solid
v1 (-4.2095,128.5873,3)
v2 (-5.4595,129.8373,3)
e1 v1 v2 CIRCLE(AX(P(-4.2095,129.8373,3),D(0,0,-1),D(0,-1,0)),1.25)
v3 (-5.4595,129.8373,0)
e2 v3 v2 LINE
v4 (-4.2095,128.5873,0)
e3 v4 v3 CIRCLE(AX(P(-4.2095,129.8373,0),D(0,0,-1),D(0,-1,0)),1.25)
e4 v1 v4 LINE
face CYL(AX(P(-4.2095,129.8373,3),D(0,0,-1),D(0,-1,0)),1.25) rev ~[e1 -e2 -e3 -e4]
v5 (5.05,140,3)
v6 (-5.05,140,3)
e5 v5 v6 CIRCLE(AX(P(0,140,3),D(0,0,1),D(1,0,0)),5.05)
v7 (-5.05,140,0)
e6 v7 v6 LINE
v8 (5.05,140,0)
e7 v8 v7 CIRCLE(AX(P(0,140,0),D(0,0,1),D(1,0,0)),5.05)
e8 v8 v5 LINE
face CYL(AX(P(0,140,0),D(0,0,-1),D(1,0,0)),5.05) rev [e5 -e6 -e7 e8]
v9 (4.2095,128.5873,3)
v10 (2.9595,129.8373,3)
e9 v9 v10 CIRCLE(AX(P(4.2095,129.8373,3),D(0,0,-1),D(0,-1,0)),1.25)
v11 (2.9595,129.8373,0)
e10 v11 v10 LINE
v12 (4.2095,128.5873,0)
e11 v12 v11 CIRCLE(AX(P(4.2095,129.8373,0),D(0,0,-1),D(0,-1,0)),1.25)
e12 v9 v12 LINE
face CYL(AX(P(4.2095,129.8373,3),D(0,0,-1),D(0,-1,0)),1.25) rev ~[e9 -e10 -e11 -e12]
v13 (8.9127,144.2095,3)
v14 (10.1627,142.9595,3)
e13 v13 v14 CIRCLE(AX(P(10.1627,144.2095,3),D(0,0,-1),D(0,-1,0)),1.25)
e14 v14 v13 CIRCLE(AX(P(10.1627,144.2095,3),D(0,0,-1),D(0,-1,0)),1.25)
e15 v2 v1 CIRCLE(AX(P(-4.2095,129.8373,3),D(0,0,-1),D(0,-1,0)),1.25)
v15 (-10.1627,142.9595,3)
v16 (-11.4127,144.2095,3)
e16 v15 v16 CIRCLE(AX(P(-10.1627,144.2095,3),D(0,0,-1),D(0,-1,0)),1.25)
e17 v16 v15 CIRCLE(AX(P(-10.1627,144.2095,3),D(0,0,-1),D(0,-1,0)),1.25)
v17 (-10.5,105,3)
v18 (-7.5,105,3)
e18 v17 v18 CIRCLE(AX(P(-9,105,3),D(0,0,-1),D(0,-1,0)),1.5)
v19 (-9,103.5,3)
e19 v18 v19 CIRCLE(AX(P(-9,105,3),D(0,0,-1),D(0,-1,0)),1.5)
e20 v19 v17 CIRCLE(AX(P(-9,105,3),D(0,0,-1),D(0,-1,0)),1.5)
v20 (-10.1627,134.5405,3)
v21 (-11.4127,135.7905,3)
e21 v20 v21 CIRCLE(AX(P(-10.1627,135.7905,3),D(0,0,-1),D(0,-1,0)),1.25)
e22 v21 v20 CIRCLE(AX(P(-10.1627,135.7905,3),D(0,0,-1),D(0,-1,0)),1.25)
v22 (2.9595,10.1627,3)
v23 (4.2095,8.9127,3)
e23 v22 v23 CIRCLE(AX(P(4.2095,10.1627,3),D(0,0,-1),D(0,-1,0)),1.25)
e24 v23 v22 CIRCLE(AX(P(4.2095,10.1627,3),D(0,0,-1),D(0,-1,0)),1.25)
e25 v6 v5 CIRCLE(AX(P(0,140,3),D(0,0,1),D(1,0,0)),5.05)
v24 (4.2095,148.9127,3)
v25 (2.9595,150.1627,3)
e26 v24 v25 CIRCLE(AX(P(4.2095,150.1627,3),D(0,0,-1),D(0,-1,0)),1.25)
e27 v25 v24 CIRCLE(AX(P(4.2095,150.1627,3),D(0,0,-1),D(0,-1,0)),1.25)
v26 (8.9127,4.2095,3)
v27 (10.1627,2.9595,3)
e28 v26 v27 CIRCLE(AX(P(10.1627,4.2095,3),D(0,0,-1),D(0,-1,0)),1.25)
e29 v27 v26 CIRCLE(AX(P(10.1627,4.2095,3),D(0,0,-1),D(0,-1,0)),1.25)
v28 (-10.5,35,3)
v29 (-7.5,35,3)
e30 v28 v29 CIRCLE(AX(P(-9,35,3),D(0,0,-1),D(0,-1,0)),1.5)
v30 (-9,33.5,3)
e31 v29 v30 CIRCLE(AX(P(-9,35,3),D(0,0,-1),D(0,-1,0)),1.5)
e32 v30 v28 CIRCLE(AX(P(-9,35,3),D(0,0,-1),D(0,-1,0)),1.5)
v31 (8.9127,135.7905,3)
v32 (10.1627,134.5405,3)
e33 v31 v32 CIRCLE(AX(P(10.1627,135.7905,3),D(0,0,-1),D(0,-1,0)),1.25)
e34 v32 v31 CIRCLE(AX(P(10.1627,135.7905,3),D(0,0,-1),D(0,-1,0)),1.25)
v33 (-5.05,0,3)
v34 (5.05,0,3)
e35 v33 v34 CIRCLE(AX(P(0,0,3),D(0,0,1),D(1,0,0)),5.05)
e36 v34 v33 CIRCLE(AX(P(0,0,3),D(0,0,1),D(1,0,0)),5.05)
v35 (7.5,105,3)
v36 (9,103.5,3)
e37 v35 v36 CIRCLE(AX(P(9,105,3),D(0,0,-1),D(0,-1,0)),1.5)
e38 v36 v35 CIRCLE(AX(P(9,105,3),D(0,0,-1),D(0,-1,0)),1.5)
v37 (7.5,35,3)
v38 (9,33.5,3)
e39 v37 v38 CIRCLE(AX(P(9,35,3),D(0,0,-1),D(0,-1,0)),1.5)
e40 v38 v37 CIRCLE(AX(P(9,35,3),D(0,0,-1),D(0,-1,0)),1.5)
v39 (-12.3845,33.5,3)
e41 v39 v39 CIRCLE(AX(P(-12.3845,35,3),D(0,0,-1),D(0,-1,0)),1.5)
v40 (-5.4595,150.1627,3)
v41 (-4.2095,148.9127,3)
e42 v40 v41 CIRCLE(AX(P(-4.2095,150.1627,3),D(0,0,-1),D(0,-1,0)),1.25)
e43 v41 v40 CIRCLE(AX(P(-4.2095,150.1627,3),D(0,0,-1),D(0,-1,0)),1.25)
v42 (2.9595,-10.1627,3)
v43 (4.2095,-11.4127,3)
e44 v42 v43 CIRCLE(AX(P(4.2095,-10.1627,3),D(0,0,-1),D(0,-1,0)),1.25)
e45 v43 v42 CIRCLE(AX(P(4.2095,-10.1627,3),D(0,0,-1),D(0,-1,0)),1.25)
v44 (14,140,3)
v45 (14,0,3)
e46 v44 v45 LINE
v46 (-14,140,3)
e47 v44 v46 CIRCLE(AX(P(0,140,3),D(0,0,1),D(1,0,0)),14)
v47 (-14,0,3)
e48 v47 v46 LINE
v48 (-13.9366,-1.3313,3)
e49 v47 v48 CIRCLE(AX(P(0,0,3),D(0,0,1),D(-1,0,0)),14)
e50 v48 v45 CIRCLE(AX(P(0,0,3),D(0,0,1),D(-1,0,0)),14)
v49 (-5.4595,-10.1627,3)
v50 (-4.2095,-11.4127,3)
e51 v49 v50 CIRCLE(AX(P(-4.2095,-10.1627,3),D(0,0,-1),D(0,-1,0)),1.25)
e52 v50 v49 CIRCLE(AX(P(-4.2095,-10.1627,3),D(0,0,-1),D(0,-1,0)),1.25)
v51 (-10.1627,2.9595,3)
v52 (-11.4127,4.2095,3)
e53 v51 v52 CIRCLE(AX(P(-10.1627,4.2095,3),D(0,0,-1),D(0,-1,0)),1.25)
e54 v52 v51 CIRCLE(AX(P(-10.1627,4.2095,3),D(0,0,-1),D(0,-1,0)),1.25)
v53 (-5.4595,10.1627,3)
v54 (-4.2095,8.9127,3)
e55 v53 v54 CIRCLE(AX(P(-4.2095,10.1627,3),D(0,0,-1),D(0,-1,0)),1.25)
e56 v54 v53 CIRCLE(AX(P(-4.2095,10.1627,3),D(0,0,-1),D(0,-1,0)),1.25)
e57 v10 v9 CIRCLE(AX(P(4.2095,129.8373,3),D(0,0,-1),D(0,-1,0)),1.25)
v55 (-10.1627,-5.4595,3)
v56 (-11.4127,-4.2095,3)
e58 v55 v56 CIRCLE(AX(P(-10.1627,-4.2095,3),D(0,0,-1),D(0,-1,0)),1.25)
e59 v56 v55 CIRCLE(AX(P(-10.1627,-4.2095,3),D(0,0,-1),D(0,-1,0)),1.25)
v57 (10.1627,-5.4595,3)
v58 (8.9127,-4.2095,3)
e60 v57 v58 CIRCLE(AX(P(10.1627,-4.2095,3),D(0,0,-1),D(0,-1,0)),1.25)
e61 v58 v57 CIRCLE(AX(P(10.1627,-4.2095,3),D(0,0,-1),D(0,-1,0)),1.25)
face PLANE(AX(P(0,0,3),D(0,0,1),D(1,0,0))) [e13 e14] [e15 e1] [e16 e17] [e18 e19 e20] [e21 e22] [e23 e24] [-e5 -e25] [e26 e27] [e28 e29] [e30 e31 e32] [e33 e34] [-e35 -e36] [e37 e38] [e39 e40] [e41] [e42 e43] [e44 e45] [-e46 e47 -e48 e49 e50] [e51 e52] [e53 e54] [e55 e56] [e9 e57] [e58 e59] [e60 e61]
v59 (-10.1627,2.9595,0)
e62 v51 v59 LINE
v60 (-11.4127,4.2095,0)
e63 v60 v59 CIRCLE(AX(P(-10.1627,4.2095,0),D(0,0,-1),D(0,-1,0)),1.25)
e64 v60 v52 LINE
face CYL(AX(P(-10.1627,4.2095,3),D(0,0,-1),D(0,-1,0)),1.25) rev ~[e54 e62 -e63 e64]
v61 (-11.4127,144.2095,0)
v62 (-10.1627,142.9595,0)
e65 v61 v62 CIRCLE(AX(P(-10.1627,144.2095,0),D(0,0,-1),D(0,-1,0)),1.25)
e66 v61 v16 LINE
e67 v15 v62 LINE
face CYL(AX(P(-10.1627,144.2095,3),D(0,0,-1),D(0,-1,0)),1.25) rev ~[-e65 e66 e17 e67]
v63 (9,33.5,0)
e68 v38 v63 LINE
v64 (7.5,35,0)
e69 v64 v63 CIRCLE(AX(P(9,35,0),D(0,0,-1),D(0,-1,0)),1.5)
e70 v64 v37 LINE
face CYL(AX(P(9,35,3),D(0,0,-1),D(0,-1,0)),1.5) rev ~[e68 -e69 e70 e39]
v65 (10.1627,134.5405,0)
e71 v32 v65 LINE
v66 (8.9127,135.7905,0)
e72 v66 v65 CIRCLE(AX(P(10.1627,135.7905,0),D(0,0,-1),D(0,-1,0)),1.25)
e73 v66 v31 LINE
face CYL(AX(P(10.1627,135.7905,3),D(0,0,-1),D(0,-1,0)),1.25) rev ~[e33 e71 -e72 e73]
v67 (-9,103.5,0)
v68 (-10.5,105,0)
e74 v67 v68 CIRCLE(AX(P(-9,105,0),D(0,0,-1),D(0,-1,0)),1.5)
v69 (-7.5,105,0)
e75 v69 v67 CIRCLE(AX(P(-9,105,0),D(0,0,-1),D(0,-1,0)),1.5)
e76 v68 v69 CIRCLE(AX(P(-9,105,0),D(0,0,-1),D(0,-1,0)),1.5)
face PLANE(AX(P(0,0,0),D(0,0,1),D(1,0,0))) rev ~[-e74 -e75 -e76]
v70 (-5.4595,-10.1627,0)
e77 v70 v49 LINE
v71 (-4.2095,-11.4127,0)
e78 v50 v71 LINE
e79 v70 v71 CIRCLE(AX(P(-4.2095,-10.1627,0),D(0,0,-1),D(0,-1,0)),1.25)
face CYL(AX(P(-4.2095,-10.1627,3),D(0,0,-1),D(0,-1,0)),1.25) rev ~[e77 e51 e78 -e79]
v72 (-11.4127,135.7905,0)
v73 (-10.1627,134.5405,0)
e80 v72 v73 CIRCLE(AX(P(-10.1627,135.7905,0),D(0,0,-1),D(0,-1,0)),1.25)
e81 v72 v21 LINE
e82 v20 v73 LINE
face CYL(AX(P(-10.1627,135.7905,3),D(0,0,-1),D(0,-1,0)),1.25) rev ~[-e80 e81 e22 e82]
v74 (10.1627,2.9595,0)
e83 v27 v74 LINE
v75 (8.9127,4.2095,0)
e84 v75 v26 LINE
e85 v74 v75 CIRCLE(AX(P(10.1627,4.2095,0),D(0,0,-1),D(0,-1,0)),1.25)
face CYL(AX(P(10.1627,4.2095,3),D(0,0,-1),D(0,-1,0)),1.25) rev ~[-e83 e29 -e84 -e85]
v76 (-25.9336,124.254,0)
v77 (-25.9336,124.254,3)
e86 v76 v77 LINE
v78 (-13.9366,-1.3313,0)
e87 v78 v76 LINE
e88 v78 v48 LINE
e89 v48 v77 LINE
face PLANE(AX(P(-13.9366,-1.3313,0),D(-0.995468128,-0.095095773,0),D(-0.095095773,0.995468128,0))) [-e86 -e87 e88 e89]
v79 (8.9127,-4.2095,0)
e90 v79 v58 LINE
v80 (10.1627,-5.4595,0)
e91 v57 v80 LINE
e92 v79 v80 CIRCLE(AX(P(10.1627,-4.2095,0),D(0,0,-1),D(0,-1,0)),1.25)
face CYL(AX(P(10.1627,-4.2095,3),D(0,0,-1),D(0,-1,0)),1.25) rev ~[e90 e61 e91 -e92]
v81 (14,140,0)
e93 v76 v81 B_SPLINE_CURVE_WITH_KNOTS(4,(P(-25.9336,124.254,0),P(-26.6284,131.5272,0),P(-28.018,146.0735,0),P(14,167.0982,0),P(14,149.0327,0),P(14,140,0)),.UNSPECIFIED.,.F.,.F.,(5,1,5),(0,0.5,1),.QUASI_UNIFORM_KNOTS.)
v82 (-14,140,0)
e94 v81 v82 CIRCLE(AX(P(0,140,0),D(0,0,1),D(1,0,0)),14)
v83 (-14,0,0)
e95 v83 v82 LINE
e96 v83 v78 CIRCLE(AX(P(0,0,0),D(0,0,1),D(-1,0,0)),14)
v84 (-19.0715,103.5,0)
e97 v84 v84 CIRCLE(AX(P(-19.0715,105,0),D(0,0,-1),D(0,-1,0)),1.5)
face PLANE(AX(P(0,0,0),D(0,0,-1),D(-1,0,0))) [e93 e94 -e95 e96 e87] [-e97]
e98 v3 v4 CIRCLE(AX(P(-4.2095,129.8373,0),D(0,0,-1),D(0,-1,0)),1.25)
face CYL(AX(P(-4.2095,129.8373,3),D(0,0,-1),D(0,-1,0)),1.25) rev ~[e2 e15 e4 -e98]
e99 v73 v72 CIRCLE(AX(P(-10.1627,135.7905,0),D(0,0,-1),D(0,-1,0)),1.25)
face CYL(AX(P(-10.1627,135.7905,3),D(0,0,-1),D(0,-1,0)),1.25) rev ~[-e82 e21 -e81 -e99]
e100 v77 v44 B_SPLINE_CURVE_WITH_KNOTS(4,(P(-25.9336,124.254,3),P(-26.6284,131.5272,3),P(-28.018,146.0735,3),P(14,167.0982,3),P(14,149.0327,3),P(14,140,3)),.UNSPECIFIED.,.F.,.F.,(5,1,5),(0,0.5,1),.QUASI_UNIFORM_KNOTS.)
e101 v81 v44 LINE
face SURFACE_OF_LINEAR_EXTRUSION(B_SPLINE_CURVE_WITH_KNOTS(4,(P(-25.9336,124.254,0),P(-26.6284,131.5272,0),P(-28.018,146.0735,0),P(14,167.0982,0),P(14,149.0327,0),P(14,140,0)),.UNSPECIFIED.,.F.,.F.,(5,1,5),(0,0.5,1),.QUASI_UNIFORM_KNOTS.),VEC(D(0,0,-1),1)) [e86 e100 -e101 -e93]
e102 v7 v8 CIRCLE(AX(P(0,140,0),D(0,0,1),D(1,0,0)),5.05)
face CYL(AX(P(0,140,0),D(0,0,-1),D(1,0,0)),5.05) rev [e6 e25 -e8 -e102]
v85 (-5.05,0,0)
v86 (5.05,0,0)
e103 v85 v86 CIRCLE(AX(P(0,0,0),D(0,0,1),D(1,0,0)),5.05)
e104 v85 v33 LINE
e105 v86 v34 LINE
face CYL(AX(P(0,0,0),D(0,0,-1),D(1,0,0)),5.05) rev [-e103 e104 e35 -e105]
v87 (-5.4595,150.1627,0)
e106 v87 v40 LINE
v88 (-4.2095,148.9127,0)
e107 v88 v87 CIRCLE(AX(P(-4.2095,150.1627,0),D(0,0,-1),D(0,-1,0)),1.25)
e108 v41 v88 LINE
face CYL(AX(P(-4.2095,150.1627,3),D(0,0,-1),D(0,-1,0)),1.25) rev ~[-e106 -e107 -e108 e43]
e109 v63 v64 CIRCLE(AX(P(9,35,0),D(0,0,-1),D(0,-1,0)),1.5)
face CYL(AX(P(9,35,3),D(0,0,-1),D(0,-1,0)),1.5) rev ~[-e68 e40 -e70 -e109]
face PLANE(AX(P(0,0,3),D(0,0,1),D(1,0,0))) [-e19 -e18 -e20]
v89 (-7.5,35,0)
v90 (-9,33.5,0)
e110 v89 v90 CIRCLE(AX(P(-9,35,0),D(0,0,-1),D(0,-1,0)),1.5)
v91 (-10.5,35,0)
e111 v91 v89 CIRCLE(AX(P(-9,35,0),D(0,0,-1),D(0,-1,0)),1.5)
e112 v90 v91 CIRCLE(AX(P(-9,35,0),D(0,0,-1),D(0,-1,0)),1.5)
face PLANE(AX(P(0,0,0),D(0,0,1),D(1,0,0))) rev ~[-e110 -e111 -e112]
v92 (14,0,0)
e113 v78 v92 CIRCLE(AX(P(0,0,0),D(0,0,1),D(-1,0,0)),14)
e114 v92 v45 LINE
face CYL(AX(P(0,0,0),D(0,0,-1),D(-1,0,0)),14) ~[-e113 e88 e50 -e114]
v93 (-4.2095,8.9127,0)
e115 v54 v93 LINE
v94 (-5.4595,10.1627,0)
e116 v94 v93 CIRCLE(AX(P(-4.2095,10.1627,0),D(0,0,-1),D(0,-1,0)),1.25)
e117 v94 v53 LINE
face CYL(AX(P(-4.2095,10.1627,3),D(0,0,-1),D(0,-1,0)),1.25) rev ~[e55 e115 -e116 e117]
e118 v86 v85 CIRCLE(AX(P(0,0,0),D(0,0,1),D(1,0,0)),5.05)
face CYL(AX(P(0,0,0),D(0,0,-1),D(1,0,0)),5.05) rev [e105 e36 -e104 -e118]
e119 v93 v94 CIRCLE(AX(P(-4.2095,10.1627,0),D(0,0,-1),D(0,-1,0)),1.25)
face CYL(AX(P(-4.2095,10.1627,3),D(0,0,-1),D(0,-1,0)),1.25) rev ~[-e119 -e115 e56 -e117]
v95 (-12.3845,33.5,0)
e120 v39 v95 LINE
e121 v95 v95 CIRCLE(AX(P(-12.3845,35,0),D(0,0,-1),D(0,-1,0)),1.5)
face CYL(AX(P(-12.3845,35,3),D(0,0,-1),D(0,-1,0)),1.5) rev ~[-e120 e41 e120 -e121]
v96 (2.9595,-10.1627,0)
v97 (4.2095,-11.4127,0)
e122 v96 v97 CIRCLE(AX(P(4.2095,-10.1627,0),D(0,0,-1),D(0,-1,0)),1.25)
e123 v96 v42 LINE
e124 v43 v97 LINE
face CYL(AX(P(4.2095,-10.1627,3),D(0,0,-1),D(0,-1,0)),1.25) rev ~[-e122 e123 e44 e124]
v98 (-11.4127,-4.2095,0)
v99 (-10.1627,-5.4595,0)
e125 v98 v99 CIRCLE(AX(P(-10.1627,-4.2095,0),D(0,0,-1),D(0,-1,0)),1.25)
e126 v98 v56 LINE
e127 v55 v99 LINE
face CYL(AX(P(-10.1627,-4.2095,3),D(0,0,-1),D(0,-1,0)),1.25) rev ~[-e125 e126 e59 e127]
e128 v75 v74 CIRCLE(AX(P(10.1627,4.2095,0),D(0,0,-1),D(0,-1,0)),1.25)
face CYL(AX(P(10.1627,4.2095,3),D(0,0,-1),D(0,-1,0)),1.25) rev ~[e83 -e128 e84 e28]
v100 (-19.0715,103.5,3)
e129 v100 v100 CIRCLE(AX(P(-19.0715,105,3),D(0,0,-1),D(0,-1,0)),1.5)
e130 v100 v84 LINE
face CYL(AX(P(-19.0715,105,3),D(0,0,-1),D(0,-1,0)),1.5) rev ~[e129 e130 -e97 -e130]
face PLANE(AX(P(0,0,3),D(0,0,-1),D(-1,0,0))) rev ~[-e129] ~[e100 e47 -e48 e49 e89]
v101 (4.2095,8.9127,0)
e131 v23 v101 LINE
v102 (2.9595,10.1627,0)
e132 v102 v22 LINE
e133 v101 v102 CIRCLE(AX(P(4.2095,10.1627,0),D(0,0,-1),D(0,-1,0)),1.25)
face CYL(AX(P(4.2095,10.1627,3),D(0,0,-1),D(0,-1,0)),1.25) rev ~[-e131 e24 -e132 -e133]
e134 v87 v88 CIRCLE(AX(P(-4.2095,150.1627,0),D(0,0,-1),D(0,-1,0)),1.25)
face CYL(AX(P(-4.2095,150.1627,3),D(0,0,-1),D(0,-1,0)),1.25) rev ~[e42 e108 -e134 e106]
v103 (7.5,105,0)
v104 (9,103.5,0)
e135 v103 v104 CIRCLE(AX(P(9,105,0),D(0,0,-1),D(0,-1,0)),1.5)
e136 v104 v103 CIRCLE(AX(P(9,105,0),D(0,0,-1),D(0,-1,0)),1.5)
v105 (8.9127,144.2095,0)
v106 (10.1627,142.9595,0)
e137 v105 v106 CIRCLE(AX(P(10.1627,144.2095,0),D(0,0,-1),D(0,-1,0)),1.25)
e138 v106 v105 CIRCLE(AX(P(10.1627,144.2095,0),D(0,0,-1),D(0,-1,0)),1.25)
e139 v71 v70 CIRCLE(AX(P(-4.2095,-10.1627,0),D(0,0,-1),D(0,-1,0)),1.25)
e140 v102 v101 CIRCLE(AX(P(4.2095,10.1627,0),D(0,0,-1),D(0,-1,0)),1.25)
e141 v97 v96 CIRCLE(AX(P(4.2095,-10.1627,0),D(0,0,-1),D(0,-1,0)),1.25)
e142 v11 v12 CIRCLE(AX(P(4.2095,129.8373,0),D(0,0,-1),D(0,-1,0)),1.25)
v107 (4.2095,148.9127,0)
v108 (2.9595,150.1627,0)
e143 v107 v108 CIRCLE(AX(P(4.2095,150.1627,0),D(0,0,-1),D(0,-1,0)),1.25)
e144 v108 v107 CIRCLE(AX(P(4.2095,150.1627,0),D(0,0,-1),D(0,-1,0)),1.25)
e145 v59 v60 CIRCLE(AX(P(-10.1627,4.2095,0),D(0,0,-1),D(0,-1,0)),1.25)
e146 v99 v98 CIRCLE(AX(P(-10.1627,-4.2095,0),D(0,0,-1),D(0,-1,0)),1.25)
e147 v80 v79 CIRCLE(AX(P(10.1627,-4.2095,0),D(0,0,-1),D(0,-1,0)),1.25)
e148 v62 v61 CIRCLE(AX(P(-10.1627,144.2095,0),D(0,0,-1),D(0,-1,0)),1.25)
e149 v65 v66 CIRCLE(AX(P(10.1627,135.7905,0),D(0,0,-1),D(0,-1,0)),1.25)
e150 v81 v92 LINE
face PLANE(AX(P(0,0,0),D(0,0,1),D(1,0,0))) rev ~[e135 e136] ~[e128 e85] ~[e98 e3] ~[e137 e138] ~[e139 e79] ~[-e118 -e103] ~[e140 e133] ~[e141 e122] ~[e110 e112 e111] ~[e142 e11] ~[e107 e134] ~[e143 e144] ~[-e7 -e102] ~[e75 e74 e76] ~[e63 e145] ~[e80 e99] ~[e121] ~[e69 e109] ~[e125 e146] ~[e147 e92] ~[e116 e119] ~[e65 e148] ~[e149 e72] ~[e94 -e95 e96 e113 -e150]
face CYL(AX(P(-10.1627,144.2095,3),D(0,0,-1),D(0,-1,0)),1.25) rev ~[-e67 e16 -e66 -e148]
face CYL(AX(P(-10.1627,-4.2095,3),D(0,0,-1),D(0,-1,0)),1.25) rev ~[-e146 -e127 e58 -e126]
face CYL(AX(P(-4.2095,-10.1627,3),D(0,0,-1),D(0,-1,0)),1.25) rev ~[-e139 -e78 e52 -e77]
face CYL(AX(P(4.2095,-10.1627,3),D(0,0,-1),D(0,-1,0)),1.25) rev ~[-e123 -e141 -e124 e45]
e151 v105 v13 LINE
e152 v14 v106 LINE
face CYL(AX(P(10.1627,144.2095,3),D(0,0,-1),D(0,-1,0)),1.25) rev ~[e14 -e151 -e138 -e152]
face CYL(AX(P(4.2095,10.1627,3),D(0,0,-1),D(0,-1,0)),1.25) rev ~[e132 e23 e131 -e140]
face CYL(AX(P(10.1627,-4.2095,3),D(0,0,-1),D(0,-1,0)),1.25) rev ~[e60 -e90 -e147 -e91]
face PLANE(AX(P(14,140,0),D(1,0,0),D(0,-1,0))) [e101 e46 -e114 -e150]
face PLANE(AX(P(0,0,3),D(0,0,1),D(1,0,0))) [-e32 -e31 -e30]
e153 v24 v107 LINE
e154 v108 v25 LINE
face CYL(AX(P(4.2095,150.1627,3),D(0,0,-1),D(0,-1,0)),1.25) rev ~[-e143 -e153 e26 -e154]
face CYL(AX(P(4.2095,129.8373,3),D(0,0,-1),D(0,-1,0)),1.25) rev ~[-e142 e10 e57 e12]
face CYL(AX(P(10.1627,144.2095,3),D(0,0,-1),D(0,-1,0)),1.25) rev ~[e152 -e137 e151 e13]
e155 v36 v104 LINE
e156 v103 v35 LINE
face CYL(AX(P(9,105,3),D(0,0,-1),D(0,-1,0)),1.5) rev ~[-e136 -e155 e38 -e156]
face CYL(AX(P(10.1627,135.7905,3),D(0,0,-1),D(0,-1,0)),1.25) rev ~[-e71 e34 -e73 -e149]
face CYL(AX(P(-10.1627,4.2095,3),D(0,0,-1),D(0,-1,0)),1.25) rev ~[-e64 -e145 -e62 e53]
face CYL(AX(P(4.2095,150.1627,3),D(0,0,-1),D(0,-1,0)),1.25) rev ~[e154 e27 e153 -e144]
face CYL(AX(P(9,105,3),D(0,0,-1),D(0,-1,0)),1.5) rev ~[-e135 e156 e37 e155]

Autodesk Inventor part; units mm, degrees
ref_plane "YZ Plane" through (0, 0, 0) normal (1, 0, 0) x (0, 1, 0)
ref_plane "XZ Plane" through (0, 0, 0) normal (0, 1, 0) x (-1, 0, 0)
ref_plane "XY Plane" through (0, 0, 0) normal (0, 0, 1) x (1, 0, 0)
sketch "Sketch2" plane through (0, 0, 0) normal (0, 0, 1) x (1, 0, 0)
  circle A0 centre (0, 0) radius 14 construction
  line L0 (0, -78.1672) -> (0, 269.7416) construction
  line L1 (0, -28.466) -> (0, 220.0403) construction
  circle A1 centre (0, 140) radius 14 construction
  line L2 (-14, 0) -> (-14, 140)
  line L3 (14, 140) -> (14, 0)
  arc A2 (14, 140) -> (-14, 140) centre (0, 140) ccw
  arc A3 (-14, 0) -> (14, 0) centre (0, 0) ccw
  circle A4 centre (0, 140) radius 5.05
  circle A5 centre (0, 0) radius 5.05
  dimension "d0" = 28
  dimension "d1" = 28
  dimension "d2" = 140
  dimension "d3" = 10.1
  dimension "d4" = 10.1
extrude "Plate1" add sketch "Sketch2" along normal blind 3
sketch "Sketch3" plane through (0, 0, 3) normal (0, 0, 1) x (1, 0, 0)
  circle A0 centre (0, 0) radius 11 construction
  circle A1 centre (0, 140) radius 11 construction
  circle A2 centre (0, 140) radius 8.5 construction
  circle A3 centre (0, 140) radius 5.05 construction
  line L0 (0, 0) -> (12.8086, 5.3055) construction
  line L1 (0, 0) -> (13.8639, 0) construction
  line L2 (12.8086, 5.3055) -> (12.5617, 5.9016) construction
  line L3 (0, 140) -> (16.0819, 146.6613) construction
  line L4 (0, 140) -> (17.4069, 140) construction
  line L5 (-9, 137.5621) -> (-9, -33.762) construction
  line L6 (9, -33.762) -> (9, 143.7894) construction
  line L7 (-14, 0) -> (-14, 140) construction
  line L8 (14, 140) -> (14, 0) construction
  line L9 (-30.9821, 105) -> (51.5896, 105) construction
  line L10 (-30.9821, 35) -> (48.2288, 35) construction
  point P0 (10.1627, 4.2095)
  point P1 (4.2095, 10.1627)
  point P2 (-4.2095, 10.1627)
  point P3 (-10.1627, 4.2095)
  point P4 (10.1627, 144.2095)
  point P5 (4.2095, 150.1627)
  point P6 (-4.2095, 150.1627)
  point P7 (-10.1627, 144.2095)
  point P8 (-10.1627, 135.7905)
  point P9 (-4.2095, 129.8373)
  point P10 (4.2095, 129.8373)
  point P11 (10.1627, 135.7905)
  point P12 (-10.1627, -4.2095)
  point P13 (-4.2095, -10.1627)
  point P14 (4.2095, -10.1627)
  point P15 (10.1627, -4.2095)
  dimension "d6" = 22
  dimension "d8" = 22
  dimension "d14" = 22.5
  dimension "d17" = 360
  dimension "d23" = 22.5
  dimension "d26" = 360
  dimension "d29" = 5
  dimension "d30" = 5
  dimension "d31" = 35
  dimension "d32" = 35
hole "Hole1" at (10.1627, 4.2095, 3) at (4.2095, 10.1627, 3) at (-4.2095, 10.1627, 3) at (-10.1627, 4.2095, 3) at (10.1627, 144.2095, 3) at (4.2095, 150.1627, 3) at (-4.2095, 150.1627, 3) at (-10.1627, 144.2095, 3) at (10.1627, 135.7905, 3) at (4.2095, 129.8373, 3) at (-4.2095, 129.8373, 3) at (-10.1627, 135.7905, 3) at (10.1627, -4.2095, 3) at (4.2095, -10.1627, 3) at (-4.2095, -10.1627, 3) at (-10.1627, -4.2095, 3) direction (0, 0, -1) diameter 2.5 end through all
sketch "Sketch4" plane through (0, 0, 3) normal (0, 0, 1) x (1, 0, 0)
  line L0 (-9, 137.5621) -> (-9, -33.762) construction
  line L1 (-30.9821, 105) -> (51.5896, 105) construction
  line L2 (-30.9821, 35) -> (48.2288, 35) construction
  line L3 (9, -33.762) -> (9, 143.7894) construction
  point P0 (0, 0)
  point P1 (-9, 105)
  point P2 (9, 105)
  point P3 (-9, 35)
  point P4 (9, 35)
hole "Hole2" at (-9, 105, 3) at (9, 105, 3) at (-9, 35, 3) at (9, 35, 3) direction (0, 0, -1) diameter 3 end through all
sketch "Sketch5" plane through (0, 0, 0) normal (0, 0, -1) x (-1, 0, 0)
  line L0 (13.9366, -1.3313) -> (25.9336, 124.254)
  circle A0 centre (9, 35) radius 1.5 projected
  circle A1 centre (9, 105) radius 1.5 projected
  circle A2 centre (-9, 105) radius 1.5 projected
  circle A3 centre (-9, 35) radius 1.5 projected
  circle A4 centre (4.2095, -10.1627) radius 1.25 projected
  circle A5 centre (-10.1627, -4.2095) radius 1.25 projected
  circle A6 centre (4.2095, 129.8373) radius 1.25 projected
  circle A7 centre (-10.1627, 135.7905) radius 1.25 projected
  circle A8 centre (4.2095, 150.1627) radius 1.25 projected
  circle A9 centre (-10.1627, 144.2095) radius 1.25 projected
  circle A10 centre (4.2095, 10.1627) radius 1.25 projected
  circle A11 centre (-10.1627, 4.2095) radius 1.25 projected
  circle A12 centre (-4.2095, 10.1627) radius 1.25 projected
  circle A13 centre (10.1627, 4.2095) radius 1.25 projected
  circle A14 centre (-4.2095, 150.1627) radius 1.25 projected
  circle A15 centre (10.1627, 144.2095) radius 1.25 projected
  circle A16 centre (-4.2095, 129.8373) radius 1.25 projected
  circle A17 centre (10.1627, 135.7905) radius 1.25 projected
  circle A18 centre (-4.2095, -10.1627) radius 1.25 projected
  circle A19 centre (10.1627, -4.2095) radius 1.25 projected
  circle A20 centre (0, 0) radius 5.05 projected
  circle A21 centre (0, 140) radius 5.05 projected
  line L1 (14, 0) -> (14, 140) projected
  arc A22 (14, 140) -> (-14, 140) centre (0, 140) ccw projected
  line L2 (-14, 140) -> (-14, 0) projected
  arc A23 (-14, 0) -> (14, 0) centre (0, 0) ccw projected
  spline S0 degree 4 poles (25.9336, 124.254) (26.6284, 131.5272) (28.018, 146.0735) (-14, 167.0982) (-14, 149.0327) (-14, 140) knots 0 0 0 0 0 0.5 1 1 1 1 1
extrude "Extrusion1" add sketch "Sketch5" against normal blind 3
sketch "Sketch6" plane through (0, 0, 3) normal (0, 0, 1) x (1, 0, 0)
  circle A0 centre (-9, 35) radius 1.5 construction
  circle A1 centre (-9, 105) radius 1.5 construction
  circle A2 centre (9, 105) radius 1.5 construction
  circle A3 centre (9, 35) radius 1.5 construction
  circle A4 centre (-4.2095, -10.1627) radius 1.25 construction
  circle A5 centre (10.1627, -4.2095) radius 1.25 construction
  circle A6 centre (-4.2095, 129.8373) radius 1.25 construction
  circle A7 centre (10.1627, 135.7905) radius 1.25 construction
  circle A8 centre (-4.2095, 150.1627) radius 1.25 construction
  circle A9 centre (10.1627, 144.2095) radius 1.25 construction
  circle A10 centre (-4.2095, 10.1627) radius 1.25 construction
  circle A11 centre (10.1627, 4.2095) radius 1.25 construction
  circle A12 centre (4.2095, 10.1627) radius 1.25 construction
  circle A13 centre (-10.1627, 4.2095) radius 1.25 construction
  circle A14 centre (4.2095, 150.1627) radius 1.25 construction
  circle A15 centre (-10.1627, 144.2095) radius 1.25 construction
  circle A16 centre (4.2095, 129.8373) radius 1.25 construction
  circle A17 centre (-10.1627, 135.7905) radius 1.25 construction
  circle A18 centre (4.2095, -10.1627) radius 1.25 construction
  circle A19 centre (-10.1627, -4.2095) radius 1.25 construction
  circle A20 centre (0, 0) radius 5.05 construction
  circle A21 centre (0, 140) radius 5.05 construction
  line L0 (-25.9336, 124.254) -> (-13.9366, -1.3313) construction
  arc A22 (-13.9366, -1.3313) -> (14, 0) centre (0, 0) ccw construction
  line L1 (14, 140) -> (14, 0) construction
  circle A23 centre (9, 105) radius 1.5 construction
  line L2 (9, 105) -> (-38.107, 105) construction
  circle A24 centre (9, 35) radius 1.5 construction
  line L3 (9, 35) -> (-44.0187, 35) construction
  line L4 (-24.3019, 159.7512) -> (-5.7807, -34.1287) construction
  line L5 (-25.9336, 124.254) -> (-13.9366, -1.3313) construction
  point P0 (-19.0715, 105)
  point P1 (-12.3845, 35)
  dimension "d49" = 5
hole "Hole3" at (-19.0715, 105, 3) at (-12.3845, 35, 3) direction (0, 0, -1) diameter 3 end through all
sketch "Sketch7" plane through (0, 0, 3) normal (0, 0, 1) x (1, 0, 0)
  circle A0 centre (-9, 105) radius 1.5 projected
  circle A1 centre (-9, 35) radius 1.5 projected
  point P0 (0, 0)
extrude "Extrusion2" add sketch "Sketch7" against normal blind 3
equation "\"d2\" = Sigma_plate_axis_to_axis"
equation "\"d3\" = Sigma_plate_axis_hole"
equation "\"d4\" = Sigma_plate_axis_hole"
equation "\"d6\" = Sigma_horn_holes1"
equation "\"d8\" = Sigma_horn_holes1"
equation "\"d38\" = Thickness"
equation "\"d45\" = Thickness"
equation "\"d55\" = Thickness"
equation "\"d59\" = Thickness"
equation "\"BendRadius\" = Thickness"
equation "\"BendReliefWidth\" = Thickness"
equation "\"BendReliefDepth\" = 0.5 * Thickness"
equation "\"CornerReliefSize\" = 4 * Thickness"
equation "\"MinimumRemnant\" = 2 * Thickness"
equation "\"TransitionRadius\" = BendRadius"
equation "\"JacobiRadiusSize\" = BendRadius"
equation "\"GapSize\" = Thickness"
equation "\"Sigma_plate_axis_to_axis\" = 140"
equation "\"tolerance\" = 0.1"
equation "\"d5\" = BendRadius"
equation "\"Sigma_horn_holes1\" = 22"
equation "\"Sigma_horn_holes2\" = 17"
equation "\"Sigma_plate_axis_hole\" = 10.1"
equation "\"Thickness\" = 3"
properties part number "Sigma106_tibiaplate_design" material "Aluminum 2014-T4"
